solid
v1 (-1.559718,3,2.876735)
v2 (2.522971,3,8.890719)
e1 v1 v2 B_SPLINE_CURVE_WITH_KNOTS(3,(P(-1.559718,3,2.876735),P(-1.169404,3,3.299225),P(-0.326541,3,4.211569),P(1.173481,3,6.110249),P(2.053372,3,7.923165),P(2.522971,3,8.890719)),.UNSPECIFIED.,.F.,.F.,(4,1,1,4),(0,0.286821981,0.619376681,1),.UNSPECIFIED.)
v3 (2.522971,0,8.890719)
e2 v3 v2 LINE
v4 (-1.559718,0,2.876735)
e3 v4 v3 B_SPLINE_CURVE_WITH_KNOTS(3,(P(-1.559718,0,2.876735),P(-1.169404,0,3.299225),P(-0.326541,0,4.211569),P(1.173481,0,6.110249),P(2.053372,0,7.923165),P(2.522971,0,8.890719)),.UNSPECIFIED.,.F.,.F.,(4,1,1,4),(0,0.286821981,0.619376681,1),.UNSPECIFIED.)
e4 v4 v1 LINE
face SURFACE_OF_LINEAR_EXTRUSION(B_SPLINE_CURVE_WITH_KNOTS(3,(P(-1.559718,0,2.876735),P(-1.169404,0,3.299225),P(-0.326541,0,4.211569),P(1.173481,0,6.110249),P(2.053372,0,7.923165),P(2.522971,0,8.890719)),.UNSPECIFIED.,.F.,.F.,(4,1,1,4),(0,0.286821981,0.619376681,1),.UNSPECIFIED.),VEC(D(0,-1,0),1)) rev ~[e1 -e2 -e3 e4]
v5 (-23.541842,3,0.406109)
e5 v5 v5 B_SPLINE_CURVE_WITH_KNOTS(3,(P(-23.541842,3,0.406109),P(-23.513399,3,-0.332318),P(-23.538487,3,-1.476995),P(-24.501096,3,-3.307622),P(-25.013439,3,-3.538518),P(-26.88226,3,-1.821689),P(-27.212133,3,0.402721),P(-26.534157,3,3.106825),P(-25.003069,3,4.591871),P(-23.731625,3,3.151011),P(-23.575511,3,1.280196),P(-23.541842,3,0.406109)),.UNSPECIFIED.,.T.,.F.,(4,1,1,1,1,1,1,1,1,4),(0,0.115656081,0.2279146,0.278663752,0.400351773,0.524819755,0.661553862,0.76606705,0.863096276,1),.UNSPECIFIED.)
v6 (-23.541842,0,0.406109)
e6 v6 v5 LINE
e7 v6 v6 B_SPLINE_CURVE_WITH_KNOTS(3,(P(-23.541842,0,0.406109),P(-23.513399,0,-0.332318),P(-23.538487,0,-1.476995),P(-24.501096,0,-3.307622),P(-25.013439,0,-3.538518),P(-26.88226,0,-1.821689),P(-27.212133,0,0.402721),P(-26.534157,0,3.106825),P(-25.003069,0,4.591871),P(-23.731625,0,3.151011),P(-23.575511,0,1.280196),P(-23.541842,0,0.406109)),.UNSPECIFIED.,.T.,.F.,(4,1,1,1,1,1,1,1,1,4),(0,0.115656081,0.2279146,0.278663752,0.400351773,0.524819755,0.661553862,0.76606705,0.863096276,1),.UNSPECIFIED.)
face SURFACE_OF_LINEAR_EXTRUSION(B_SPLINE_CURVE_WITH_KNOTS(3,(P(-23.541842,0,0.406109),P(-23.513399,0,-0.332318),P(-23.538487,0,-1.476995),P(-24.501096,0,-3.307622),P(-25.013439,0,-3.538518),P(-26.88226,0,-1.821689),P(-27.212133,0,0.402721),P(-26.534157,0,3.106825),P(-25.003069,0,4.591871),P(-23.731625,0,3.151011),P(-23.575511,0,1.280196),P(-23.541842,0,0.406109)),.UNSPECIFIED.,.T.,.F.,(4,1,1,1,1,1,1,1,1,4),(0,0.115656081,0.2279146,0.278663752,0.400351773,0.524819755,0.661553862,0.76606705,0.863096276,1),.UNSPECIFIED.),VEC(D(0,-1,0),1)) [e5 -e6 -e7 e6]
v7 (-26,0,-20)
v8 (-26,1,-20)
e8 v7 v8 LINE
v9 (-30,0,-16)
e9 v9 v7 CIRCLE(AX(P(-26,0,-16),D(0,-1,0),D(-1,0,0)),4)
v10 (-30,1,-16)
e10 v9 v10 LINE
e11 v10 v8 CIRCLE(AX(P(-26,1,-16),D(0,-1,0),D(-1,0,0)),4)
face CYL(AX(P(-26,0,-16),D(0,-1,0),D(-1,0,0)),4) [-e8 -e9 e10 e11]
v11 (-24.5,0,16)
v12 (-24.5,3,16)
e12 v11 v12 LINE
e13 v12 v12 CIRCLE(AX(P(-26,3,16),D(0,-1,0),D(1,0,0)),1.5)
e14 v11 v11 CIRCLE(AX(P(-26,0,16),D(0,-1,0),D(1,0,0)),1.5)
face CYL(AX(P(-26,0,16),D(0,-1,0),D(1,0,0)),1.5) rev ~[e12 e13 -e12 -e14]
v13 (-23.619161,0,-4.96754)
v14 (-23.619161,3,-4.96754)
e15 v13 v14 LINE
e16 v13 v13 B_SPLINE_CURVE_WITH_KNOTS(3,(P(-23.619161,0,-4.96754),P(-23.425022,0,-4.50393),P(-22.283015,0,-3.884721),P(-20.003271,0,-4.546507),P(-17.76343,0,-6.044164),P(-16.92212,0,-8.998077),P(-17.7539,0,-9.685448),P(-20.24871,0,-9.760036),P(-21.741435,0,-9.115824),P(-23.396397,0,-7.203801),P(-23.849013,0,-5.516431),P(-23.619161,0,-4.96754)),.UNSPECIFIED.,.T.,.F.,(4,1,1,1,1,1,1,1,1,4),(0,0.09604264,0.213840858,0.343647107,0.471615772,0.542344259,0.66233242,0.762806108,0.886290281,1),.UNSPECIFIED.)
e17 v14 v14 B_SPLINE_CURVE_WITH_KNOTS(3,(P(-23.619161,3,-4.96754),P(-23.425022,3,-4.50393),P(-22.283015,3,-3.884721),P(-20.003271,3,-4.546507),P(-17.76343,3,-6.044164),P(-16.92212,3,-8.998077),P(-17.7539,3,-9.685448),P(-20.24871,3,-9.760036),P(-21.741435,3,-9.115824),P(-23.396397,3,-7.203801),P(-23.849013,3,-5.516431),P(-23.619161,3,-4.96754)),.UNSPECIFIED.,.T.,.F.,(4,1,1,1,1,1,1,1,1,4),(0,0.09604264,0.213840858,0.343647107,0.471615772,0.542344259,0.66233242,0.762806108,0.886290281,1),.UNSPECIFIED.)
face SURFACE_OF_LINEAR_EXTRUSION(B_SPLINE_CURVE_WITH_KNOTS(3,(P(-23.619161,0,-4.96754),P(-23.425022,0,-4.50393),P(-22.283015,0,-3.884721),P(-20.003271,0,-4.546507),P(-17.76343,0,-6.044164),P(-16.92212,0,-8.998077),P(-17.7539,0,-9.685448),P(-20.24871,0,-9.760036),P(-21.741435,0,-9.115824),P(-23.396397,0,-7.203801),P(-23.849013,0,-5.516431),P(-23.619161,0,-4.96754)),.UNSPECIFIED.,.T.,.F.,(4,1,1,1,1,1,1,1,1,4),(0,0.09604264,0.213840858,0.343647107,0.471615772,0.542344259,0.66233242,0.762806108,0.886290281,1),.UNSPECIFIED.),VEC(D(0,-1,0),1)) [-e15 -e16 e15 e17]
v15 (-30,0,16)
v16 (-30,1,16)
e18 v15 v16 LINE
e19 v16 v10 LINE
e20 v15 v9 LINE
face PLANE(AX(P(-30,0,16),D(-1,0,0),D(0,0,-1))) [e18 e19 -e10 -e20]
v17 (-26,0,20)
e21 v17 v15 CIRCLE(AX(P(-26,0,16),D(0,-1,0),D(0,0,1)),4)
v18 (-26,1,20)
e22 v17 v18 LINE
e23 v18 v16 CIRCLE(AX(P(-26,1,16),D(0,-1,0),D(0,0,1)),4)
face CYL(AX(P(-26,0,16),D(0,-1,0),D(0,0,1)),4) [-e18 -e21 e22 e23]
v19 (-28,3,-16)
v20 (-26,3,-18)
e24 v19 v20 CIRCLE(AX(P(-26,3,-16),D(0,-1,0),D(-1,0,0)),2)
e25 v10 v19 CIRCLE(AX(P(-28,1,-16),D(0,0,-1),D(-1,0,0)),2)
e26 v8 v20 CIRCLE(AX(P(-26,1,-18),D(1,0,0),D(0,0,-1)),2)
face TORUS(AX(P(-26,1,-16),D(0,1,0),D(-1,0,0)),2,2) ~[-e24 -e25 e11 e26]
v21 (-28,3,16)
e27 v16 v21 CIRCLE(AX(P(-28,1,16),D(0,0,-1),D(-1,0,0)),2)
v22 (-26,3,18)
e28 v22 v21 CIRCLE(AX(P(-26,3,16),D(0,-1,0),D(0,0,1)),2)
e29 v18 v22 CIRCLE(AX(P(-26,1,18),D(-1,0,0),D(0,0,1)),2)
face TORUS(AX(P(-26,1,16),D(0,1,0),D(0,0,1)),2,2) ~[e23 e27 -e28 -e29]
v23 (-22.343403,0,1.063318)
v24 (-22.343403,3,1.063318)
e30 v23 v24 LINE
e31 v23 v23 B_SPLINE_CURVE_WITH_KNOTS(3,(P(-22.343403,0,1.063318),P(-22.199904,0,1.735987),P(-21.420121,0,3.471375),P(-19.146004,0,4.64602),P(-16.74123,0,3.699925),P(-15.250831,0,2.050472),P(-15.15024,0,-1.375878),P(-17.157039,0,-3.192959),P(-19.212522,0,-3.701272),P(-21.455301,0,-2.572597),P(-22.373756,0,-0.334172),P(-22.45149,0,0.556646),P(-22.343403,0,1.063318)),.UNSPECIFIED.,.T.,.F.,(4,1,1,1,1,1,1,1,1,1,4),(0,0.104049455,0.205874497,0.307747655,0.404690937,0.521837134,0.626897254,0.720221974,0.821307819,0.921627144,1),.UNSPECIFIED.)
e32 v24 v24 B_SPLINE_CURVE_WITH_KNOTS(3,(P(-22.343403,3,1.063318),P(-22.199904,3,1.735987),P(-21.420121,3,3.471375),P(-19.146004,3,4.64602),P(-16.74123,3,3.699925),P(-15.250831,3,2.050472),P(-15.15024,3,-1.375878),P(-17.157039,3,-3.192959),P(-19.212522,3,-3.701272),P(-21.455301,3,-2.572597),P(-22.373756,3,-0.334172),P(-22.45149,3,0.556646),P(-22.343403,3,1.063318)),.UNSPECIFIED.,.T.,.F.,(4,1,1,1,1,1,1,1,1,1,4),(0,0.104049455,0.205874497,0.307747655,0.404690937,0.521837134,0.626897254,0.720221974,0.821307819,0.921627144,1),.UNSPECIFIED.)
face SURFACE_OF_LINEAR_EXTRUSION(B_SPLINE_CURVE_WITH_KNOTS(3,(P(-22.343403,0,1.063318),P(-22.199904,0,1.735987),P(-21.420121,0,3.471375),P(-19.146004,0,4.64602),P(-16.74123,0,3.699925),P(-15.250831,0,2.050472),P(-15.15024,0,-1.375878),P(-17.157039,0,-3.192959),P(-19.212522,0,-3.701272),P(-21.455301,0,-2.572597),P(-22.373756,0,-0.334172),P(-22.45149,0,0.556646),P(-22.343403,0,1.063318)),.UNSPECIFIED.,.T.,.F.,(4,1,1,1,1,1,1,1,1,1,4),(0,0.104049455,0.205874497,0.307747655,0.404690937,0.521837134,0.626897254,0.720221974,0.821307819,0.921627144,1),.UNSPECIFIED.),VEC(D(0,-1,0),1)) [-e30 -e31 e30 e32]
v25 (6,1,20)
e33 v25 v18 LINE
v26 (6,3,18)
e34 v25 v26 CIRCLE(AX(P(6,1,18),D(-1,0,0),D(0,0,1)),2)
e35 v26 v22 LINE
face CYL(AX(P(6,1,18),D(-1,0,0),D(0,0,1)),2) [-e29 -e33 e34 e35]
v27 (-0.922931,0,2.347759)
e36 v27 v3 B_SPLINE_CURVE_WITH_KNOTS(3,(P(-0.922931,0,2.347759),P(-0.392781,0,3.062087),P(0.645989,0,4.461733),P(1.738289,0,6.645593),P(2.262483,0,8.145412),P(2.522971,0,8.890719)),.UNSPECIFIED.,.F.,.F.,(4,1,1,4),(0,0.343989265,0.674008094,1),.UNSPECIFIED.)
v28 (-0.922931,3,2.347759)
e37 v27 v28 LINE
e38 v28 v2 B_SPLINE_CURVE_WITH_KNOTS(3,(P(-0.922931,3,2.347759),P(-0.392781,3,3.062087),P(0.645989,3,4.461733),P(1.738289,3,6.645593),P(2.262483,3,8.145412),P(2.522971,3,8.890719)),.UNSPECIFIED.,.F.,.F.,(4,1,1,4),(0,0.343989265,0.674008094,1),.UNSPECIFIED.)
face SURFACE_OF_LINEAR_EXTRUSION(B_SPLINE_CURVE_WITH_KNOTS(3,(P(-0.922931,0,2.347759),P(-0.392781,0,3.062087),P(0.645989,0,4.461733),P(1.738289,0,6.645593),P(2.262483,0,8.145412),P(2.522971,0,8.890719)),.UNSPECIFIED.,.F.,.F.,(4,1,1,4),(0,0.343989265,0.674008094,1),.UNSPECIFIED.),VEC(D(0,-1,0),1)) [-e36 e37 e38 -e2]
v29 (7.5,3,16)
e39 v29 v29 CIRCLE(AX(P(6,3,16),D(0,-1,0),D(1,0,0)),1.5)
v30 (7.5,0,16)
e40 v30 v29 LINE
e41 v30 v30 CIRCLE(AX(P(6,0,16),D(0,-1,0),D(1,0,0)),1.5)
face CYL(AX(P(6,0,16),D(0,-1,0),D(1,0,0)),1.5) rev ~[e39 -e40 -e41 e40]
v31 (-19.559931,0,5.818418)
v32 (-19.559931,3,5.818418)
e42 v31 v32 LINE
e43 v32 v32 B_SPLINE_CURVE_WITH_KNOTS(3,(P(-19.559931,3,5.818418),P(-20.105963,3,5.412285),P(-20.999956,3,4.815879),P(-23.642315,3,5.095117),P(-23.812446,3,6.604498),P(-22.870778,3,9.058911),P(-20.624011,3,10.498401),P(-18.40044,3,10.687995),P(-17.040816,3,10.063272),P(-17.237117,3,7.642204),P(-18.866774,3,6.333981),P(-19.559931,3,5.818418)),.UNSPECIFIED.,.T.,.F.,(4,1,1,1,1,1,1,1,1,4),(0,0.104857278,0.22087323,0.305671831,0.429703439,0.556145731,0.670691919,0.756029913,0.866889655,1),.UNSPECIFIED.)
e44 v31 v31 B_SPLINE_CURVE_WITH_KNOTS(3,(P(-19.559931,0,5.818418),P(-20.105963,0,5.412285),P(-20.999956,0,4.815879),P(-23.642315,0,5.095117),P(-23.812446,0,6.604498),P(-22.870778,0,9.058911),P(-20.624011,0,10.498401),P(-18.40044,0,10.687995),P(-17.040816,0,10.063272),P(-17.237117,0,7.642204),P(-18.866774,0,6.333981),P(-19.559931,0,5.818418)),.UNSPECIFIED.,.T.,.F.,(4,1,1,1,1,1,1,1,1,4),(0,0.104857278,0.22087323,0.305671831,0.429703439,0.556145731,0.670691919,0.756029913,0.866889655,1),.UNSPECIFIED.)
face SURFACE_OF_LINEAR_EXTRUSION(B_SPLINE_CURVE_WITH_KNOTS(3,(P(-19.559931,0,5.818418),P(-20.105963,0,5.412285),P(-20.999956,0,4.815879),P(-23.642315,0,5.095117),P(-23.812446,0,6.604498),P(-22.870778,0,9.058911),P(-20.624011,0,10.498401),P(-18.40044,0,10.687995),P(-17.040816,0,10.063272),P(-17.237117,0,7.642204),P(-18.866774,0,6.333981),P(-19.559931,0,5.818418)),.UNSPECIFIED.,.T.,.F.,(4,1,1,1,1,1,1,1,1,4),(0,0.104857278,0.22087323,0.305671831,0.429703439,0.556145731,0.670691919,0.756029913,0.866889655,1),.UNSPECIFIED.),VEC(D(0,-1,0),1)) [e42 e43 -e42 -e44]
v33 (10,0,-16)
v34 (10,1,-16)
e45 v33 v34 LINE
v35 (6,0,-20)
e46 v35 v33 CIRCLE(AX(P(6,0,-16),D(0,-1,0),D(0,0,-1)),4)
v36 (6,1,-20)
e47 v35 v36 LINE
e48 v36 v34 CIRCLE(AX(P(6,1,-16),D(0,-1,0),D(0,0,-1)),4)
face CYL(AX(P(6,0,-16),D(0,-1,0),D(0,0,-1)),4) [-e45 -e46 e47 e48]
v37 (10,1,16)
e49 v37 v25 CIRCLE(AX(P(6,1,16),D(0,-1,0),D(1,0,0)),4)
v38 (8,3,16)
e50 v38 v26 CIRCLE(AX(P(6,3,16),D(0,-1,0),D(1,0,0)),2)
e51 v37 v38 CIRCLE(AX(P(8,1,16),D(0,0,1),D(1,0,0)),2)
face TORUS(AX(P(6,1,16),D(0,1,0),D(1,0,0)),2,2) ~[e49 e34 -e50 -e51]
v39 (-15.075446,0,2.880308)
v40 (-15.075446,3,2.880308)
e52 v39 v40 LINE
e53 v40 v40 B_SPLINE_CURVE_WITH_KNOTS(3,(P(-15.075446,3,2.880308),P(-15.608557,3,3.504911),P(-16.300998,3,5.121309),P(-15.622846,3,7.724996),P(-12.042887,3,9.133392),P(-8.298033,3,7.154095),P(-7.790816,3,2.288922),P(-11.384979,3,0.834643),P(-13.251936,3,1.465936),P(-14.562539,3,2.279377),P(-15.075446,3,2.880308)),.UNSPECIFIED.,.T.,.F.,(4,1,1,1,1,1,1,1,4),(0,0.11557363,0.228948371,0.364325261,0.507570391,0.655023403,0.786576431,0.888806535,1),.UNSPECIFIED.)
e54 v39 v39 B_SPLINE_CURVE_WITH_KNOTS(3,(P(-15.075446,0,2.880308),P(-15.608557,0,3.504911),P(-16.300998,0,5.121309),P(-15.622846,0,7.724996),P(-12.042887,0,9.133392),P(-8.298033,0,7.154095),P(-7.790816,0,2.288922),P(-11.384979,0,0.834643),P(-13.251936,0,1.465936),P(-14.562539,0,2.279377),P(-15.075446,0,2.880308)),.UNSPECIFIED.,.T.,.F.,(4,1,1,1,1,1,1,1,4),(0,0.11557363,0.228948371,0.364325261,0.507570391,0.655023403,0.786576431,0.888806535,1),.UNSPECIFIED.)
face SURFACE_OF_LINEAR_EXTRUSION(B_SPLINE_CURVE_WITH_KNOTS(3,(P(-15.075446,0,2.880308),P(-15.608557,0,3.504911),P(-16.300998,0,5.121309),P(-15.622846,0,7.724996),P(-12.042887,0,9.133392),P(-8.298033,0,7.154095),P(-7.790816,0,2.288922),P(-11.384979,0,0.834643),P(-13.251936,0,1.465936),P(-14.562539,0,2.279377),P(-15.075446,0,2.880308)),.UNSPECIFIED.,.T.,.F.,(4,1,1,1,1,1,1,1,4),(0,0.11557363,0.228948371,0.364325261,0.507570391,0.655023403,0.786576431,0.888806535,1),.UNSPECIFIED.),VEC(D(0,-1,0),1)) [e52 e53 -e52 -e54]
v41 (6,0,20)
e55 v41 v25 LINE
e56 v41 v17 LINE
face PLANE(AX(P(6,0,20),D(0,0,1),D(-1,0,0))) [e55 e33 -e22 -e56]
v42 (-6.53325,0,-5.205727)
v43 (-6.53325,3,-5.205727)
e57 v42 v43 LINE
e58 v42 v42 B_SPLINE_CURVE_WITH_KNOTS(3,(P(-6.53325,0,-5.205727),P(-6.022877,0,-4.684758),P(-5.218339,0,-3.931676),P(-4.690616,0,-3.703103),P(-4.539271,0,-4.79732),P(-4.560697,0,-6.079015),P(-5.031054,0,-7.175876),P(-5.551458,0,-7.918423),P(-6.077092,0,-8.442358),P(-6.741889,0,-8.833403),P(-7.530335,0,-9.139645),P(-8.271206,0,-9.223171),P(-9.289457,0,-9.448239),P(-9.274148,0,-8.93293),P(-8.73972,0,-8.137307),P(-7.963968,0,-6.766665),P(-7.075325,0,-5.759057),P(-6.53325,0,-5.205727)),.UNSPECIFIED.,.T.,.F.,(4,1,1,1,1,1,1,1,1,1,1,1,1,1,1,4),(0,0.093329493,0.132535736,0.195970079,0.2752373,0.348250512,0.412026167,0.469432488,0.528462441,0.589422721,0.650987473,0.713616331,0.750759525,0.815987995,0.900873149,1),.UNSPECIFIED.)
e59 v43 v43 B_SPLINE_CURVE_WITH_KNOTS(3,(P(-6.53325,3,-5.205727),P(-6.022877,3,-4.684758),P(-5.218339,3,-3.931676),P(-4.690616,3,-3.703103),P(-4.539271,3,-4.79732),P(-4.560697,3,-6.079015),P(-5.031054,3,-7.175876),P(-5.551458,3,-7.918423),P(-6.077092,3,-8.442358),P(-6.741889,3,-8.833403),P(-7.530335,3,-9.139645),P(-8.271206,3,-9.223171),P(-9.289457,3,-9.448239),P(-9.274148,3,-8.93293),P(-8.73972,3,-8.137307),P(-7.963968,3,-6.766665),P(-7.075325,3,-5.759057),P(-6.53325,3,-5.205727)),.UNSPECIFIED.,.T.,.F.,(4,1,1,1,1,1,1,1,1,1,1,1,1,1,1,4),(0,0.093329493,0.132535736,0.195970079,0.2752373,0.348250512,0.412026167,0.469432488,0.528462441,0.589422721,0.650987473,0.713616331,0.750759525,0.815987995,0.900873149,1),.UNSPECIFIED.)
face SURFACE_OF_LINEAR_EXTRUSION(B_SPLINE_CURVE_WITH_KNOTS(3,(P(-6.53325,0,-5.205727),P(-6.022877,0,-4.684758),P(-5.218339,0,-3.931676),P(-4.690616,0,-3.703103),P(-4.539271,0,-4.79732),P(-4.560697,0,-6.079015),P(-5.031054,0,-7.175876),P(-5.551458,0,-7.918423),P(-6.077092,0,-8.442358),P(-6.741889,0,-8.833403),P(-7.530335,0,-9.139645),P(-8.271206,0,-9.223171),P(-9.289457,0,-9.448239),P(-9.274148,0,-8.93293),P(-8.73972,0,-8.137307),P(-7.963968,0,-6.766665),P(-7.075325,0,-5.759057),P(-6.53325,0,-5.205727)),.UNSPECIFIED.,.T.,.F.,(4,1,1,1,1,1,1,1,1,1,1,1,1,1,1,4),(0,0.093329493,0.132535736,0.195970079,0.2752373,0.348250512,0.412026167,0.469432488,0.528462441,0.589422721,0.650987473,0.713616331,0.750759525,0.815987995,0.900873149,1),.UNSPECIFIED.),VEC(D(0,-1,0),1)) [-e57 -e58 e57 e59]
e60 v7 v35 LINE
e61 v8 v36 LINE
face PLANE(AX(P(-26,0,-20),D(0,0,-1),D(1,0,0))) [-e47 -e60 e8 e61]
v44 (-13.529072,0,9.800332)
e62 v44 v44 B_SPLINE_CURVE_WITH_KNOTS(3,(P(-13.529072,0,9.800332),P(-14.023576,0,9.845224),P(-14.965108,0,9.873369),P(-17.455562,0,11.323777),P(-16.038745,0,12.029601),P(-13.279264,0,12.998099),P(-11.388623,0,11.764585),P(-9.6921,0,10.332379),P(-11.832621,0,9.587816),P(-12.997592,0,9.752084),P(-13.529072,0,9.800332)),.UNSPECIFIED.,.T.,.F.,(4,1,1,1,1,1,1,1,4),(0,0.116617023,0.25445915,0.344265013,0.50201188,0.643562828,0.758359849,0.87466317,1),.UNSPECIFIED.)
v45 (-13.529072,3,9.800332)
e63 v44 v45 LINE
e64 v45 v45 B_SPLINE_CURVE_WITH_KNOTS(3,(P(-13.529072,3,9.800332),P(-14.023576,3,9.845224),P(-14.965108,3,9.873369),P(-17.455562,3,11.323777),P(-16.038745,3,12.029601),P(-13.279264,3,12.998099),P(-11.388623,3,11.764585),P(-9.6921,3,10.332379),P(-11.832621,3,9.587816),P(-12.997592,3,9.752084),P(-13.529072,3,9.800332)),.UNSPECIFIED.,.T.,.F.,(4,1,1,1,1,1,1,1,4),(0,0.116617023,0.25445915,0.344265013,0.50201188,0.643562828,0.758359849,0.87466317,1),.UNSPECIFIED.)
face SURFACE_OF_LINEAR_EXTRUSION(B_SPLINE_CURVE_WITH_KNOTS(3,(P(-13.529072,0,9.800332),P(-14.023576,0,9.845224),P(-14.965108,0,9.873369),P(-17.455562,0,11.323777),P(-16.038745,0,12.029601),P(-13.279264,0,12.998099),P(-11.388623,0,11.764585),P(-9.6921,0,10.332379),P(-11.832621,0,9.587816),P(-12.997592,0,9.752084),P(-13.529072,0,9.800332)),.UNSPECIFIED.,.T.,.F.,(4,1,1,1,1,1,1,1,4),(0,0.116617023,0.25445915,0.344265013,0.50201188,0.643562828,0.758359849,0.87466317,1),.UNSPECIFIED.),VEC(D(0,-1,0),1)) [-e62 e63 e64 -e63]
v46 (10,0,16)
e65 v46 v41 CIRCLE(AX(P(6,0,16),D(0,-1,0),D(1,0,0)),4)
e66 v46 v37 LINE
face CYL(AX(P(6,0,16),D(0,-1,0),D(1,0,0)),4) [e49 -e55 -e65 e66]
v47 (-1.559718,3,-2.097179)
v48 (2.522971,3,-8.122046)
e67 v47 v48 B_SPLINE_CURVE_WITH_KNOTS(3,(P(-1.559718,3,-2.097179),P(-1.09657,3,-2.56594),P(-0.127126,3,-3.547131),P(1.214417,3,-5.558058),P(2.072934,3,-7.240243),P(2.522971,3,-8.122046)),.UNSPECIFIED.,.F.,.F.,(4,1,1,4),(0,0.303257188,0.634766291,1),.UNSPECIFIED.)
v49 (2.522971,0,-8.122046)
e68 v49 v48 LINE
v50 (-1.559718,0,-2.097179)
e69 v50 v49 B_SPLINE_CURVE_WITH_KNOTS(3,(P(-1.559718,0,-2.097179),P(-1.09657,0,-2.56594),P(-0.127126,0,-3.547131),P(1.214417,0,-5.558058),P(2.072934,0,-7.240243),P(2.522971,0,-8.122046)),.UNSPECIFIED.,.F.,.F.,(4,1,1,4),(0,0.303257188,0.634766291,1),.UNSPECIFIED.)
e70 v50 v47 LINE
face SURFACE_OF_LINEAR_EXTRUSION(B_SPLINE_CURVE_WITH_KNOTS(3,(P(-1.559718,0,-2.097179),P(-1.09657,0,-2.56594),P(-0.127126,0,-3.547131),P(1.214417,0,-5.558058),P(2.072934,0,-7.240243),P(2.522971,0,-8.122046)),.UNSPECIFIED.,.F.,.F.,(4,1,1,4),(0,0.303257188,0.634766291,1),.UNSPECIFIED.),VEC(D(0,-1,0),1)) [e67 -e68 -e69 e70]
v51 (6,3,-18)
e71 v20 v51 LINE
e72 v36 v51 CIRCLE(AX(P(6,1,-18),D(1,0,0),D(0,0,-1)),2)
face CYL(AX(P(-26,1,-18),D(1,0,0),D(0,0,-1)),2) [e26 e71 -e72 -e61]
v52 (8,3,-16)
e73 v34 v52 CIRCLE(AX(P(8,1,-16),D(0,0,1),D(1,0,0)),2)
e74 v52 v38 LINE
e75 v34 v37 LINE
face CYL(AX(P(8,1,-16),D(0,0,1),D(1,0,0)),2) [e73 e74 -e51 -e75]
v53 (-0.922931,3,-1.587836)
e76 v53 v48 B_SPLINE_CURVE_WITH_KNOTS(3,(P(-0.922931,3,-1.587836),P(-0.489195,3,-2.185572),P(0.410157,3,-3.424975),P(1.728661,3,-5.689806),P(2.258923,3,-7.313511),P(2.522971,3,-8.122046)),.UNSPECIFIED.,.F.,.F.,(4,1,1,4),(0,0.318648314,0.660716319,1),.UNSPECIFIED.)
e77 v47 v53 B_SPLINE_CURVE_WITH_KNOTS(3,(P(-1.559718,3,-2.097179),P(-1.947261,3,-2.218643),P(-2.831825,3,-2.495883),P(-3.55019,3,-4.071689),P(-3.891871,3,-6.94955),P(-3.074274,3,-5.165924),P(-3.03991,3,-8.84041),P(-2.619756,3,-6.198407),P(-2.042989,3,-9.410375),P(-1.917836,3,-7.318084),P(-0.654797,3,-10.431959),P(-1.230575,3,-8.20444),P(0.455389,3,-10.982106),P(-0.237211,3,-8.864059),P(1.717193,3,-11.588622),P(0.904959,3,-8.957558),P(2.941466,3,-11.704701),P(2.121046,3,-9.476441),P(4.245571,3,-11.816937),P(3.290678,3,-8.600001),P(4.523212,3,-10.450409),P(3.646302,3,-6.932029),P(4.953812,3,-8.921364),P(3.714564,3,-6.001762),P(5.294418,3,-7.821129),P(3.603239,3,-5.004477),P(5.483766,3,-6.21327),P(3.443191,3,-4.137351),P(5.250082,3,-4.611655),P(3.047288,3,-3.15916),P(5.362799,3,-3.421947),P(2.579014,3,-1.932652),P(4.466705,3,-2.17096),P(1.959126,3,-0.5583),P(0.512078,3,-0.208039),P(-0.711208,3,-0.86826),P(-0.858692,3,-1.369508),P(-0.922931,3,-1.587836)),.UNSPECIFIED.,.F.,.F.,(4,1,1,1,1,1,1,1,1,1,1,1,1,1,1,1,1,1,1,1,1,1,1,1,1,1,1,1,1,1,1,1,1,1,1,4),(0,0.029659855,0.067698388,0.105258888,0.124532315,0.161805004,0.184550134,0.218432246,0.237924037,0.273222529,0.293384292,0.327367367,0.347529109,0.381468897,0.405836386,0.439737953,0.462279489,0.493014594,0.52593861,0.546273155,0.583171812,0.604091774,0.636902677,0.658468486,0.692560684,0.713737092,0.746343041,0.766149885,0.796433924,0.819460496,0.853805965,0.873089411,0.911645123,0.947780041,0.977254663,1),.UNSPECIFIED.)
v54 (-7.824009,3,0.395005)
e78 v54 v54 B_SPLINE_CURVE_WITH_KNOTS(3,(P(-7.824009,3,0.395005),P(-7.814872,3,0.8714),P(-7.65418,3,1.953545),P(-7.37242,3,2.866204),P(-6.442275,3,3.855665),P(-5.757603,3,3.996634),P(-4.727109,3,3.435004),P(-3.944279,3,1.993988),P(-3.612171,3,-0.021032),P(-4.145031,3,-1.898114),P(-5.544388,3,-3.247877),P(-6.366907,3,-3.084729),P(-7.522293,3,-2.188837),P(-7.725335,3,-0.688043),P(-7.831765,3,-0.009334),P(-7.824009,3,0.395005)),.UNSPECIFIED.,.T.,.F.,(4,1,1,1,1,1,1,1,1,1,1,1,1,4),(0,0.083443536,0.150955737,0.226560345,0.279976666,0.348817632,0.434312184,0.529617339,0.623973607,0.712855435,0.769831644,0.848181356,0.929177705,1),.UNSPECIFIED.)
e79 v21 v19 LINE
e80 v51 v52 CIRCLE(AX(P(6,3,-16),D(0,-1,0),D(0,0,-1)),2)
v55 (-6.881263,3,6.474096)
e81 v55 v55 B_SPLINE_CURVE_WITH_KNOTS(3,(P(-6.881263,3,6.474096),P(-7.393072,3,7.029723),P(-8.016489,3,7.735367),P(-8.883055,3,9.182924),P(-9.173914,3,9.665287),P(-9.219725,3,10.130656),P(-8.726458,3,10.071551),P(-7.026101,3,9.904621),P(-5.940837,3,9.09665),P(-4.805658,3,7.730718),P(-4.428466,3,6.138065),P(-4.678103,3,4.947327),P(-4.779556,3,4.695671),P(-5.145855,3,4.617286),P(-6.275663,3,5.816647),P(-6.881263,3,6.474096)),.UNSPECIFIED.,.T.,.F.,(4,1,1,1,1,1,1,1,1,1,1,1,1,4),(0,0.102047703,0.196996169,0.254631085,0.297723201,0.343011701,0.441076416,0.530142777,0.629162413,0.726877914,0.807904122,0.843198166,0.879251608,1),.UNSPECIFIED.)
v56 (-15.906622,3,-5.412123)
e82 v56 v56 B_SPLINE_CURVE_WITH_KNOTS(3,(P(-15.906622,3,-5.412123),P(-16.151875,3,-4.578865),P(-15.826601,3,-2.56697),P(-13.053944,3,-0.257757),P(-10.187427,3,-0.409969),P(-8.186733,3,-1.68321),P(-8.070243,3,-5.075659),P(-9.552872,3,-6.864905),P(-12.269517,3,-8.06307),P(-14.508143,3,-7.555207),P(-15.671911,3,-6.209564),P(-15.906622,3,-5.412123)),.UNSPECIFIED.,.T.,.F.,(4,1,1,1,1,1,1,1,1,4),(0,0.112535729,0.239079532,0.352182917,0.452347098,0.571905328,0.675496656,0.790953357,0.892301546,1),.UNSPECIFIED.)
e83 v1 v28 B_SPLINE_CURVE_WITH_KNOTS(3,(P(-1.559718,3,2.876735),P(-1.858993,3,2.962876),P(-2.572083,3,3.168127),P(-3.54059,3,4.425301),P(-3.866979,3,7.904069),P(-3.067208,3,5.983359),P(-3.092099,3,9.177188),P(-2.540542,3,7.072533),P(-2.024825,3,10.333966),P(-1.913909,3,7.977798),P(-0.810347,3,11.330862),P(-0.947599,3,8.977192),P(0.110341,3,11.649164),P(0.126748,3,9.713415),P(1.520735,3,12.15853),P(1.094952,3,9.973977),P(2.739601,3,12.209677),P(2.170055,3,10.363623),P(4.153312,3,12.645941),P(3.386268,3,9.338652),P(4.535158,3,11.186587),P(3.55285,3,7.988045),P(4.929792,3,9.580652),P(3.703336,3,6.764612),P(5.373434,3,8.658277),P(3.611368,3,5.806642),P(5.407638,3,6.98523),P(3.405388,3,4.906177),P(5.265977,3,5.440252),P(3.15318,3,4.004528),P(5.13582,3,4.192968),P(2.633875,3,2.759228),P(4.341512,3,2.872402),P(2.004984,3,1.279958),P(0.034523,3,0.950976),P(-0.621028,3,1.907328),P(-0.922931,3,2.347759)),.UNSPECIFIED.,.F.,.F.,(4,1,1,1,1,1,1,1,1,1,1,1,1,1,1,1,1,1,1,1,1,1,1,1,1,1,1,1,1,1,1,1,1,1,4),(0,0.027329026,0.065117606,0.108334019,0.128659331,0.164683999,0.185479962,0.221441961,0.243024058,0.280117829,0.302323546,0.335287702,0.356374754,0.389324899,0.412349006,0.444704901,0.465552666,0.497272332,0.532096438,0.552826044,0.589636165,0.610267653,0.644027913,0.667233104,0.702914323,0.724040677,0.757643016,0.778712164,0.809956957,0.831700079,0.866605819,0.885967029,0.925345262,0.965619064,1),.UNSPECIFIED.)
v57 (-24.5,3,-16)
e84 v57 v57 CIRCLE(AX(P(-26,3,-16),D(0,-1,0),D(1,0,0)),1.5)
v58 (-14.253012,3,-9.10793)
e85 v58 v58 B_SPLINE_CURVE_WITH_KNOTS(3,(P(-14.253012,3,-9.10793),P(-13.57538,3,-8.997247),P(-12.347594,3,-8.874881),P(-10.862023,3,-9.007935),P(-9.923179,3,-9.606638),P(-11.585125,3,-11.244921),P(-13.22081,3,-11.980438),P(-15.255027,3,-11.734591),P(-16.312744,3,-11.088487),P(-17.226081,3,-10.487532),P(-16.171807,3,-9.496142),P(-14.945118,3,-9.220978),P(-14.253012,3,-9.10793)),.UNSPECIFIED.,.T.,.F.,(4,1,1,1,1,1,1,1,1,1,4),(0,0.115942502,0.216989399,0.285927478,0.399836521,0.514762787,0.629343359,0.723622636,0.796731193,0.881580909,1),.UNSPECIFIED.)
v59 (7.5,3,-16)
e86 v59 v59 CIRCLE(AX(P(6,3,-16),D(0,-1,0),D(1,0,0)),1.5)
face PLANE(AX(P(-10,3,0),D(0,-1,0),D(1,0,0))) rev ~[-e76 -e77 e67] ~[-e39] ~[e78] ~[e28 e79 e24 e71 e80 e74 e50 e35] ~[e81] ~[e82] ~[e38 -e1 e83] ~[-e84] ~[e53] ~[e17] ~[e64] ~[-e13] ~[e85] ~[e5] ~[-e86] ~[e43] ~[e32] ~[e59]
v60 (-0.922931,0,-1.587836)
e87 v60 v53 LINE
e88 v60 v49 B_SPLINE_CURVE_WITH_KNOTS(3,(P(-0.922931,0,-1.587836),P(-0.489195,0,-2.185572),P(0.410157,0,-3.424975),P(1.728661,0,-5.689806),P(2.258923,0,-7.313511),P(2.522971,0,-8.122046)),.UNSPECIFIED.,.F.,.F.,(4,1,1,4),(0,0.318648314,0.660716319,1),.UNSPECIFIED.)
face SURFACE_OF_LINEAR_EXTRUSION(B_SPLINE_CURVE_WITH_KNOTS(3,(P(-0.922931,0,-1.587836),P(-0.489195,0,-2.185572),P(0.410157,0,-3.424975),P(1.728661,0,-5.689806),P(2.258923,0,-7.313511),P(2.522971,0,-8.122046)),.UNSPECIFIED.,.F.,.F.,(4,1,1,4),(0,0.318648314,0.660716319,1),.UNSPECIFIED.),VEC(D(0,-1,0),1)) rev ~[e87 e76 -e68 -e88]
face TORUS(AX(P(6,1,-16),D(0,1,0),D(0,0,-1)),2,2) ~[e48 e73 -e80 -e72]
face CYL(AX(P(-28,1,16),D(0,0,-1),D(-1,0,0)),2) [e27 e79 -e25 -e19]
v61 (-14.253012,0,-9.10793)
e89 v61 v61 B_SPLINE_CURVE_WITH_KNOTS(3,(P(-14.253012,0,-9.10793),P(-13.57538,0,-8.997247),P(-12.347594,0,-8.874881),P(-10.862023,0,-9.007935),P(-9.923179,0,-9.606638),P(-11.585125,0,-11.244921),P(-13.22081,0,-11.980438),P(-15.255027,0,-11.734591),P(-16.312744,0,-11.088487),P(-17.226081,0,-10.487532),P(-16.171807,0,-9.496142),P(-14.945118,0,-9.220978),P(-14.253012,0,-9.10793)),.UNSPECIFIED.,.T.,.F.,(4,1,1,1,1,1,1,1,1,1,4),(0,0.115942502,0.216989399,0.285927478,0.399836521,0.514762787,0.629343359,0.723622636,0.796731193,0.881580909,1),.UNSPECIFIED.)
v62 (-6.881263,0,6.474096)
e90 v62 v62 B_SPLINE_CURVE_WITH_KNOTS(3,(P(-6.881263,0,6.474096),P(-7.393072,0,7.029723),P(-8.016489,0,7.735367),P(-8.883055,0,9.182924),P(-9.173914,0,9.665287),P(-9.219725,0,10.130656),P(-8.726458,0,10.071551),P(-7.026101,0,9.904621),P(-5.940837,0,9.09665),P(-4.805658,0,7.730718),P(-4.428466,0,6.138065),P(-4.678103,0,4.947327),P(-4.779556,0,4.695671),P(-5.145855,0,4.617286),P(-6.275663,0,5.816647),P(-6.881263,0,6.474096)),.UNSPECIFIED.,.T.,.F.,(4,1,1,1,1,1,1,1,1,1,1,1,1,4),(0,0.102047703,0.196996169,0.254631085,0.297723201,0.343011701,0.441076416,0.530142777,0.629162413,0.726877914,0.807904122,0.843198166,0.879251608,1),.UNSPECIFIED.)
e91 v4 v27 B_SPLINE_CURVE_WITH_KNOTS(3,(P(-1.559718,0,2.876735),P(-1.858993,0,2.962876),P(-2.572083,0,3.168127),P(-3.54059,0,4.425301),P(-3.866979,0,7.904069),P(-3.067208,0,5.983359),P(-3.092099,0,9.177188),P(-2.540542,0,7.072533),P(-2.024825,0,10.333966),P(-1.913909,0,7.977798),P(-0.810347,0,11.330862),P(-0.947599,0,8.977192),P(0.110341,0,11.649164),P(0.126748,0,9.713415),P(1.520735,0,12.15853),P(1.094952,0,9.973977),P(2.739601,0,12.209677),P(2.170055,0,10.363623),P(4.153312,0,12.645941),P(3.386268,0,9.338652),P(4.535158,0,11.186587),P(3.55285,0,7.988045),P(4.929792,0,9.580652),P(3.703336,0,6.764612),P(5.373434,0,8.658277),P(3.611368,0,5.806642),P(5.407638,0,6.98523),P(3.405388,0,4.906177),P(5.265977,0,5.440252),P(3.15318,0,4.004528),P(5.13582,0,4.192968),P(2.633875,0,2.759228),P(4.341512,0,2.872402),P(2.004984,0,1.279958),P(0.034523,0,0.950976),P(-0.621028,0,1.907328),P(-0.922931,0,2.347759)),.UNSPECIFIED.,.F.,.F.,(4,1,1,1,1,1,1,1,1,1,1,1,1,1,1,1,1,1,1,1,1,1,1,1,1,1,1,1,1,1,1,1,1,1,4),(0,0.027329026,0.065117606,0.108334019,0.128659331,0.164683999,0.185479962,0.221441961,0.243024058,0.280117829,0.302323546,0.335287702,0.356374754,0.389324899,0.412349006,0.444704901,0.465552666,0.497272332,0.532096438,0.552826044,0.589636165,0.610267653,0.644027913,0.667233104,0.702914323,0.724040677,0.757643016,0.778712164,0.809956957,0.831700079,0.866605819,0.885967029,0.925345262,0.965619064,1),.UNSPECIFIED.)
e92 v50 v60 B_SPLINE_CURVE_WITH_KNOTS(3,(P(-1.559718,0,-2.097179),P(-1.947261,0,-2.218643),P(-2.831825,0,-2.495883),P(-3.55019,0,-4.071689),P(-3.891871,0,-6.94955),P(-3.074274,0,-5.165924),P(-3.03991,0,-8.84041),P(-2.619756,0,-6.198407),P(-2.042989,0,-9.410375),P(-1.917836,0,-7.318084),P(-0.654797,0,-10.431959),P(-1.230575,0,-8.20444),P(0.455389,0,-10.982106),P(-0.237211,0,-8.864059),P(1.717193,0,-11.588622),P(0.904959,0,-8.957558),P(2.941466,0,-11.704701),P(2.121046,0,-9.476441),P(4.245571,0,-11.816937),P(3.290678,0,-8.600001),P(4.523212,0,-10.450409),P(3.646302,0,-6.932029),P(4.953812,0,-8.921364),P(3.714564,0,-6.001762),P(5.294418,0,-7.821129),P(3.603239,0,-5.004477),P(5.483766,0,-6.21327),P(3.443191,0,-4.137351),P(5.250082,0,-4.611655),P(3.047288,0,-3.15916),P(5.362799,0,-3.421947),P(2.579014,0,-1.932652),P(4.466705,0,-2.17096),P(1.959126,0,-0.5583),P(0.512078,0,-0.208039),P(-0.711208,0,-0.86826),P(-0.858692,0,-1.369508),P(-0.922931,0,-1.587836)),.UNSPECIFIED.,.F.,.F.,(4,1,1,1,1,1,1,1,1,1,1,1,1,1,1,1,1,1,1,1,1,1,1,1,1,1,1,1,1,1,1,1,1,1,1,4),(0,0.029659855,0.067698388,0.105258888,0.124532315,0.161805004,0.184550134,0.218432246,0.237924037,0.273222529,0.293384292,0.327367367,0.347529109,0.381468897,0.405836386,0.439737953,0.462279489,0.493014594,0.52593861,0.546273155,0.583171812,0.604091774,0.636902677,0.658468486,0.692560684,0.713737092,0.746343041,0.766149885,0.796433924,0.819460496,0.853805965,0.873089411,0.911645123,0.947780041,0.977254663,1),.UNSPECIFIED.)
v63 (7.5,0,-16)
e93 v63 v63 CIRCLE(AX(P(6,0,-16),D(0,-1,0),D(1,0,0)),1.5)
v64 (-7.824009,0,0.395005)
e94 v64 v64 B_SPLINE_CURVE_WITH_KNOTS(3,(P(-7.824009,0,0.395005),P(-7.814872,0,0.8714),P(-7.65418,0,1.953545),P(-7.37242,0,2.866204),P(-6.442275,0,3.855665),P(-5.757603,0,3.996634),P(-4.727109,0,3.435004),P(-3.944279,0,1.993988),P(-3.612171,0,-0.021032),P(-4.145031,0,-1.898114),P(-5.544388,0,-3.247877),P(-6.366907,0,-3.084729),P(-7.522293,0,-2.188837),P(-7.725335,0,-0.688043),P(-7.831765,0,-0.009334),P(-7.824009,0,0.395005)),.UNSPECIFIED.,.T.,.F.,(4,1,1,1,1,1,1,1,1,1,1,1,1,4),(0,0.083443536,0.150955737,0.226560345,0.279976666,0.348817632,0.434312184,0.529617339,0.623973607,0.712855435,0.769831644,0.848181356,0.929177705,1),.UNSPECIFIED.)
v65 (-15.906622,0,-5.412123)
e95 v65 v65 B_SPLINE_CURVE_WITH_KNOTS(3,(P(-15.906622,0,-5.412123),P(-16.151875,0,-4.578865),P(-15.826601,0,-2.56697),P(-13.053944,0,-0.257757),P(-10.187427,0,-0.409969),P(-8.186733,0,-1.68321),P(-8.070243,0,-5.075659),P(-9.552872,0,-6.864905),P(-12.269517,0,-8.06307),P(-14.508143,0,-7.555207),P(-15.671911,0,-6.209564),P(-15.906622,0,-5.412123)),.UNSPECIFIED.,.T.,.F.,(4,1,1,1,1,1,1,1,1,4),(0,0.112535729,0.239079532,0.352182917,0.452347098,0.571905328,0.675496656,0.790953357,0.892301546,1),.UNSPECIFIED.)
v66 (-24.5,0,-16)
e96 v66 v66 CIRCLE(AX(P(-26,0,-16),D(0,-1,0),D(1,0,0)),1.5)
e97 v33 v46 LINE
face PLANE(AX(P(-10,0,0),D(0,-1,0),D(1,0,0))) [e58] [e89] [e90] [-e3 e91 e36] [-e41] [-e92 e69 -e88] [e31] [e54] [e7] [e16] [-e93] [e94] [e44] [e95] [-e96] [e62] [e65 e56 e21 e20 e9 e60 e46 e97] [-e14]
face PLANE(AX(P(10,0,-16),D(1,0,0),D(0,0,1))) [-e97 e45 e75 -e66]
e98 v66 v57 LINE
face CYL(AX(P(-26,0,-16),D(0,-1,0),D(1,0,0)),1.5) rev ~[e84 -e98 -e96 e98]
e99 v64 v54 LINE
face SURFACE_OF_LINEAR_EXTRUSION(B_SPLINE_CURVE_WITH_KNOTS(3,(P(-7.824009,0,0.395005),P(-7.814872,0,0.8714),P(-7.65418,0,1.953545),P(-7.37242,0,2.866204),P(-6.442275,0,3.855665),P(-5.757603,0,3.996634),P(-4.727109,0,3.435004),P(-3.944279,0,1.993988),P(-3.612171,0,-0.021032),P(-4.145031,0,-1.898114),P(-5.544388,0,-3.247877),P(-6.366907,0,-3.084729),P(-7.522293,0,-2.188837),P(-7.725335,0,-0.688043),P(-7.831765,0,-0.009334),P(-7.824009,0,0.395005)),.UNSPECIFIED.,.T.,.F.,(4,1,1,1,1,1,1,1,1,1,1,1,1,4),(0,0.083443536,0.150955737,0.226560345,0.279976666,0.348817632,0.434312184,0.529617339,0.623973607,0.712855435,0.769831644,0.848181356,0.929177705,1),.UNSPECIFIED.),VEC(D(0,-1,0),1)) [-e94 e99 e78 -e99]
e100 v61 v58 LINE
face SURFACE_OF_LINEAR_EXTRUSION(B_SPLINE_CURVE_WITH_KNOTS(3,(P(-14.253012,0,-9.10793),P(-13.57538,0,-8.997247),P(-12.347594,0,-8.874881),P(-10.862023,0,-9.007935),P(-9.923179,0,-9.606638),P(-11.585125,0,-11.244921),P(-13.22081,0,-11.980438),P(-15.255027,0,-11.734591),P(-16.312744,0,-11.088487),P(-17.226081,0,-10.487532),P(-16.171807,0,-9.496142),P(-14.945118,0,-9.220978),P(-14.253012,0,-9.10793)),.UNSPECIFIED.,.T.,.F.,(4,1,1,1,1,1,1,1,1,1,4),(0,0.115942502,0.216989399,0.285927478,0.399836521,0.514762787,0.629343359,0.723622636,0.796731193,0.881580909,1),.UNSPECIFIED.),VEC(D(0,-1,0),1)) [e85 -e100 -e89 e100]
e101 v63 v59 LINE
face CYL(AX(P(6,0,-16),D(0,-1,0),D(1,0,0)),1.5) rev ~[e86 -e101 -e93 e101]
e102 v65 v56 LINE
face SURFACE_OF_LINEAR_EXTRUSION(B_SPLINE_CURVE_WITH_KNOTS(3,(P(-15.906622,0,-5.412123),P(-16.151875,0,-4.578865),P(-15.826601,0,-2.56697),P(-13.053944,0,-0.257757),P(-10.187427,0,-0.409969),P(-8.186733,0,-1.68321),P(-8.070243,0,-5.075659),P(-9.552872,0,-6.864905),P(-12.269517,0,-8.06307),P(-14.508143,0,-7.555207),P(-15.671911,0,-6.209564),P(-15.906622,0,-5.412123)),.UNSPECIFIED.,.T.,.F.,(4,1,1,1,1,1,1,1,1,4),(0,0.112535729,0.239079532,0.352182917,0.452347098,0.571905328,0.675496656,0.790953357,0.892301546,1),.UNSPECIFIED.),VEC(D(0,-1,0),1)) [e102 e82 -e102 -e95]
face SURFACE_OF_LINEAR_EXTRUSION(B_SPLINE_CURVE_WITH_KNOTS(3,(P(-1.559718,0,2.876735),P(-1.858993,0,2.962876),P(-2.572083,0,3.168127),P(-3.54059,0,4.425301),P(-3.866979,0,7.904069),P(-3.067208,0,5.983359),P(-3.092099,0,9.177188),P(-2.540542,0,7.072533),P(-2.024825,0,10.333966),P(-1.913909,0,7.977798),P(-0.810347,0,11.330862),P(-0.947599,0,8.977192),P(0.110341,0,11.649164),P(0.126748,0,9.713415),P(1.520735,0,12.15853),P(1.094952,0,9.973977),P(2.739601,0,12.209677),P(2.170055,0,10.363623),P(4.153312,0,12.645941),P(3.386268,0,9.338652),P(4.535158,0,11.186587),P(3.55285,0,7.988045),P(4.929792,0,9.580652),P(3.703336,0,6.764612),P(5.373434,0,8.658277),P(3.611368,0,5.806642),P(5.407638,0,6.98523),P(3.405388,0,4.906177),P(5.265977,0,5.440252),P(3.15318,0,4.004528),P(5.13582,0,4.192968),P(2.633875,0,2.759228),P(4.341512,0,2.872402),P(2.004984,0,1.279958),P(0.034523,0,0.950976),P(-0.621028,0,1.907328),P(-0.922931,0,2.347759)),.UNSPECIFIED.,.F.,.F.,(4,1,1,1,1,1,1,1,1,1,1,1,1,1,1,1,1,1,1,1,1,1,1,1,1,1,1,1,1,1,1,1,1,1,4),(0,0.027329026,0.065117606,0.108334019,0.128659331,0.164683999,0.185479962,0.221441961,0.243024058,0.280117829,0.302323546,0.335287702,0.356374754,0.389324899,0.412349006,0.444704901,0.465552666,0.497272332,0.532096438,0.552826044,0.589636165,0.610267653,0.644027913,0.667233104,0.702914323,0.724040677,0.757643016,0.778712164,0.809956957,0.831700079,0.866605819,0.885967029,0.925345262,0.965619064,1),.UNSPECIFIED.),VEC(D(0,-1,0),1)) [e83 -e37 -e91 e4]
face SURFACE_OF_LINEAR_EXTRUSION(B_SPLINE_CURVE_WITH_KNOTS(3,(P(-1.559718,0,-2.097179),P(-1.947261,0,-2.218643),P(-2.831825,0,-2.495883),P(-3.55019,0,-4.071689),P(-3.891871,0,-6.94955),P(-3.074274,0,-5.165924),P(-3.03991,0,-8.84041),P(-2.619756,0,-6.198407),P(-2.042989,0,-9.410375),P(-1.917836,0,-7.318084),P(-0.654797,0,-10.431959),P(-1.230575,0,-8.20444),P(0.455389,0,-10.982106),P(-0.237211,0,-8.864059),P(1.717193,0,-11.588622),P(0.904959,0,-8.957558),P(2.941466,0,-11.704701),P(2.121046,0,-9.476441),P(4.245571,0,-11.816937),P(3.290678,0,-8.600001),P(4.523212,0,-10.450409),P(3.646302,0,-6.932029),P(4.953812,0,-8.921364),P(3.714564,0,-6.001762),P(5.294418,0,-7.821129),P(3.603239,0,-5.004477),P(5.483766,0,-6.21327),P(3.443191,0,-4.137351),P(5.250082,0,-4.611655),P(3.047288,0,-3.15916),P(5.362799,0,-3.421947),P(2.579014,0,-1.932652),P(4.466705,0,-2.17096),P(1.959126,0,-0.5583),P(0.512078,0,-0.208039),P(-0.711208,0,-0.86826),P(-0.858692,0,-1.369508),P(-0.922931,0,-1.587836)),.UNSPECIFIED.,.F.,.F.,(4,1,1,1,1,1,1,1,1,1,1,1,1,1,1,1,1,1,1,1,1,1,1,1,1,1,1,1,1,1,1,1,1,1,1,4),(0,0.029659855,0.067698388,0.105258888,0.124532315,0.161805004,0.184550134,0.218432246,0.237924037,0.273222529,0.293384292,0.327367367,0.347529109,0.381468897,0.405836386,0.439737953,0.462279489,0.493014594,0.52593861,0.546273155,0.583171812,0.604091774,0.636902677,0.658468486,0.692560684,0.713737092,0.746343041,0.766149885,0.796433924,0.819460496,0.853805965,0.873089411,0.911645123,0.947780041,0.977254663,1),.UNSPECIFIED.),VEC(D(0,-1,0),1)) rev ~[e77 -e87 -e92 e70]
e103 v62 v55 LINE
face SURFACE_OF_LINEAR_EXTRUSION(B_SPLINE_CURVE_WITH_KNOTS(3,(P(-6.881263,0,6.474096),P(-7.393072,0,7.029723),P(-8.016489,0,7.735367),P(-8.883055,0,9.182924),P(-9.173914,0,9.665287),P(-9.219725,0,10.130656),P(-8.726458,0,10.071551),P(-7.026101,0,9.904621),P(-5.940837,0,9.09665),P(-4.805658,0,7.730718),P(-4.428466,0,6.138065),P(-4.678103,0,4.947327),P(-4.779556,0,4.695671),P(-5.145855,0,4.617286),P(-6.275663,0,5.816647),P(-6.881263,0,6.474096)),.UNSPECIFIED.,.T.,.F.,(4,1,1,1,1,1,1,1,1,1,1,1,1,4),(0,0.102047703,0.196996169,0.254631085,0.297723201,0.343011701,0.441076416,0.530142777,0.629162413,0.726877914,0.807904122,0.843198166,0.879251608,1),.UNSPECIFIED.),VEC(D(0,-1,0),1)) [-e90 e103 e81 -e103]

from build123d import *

# Parameters (mm, degrees)
F0_R     = 1.5
F1_DEPTH = 3
F2_R     = 2


with BuildPart() as f1:
    # F0 (on Front) → F1 (new body)
    with BuildSketch(Plane.XZ):
        with BuildLine():
            Line((6, 20), (-26, 20))
            ThreePointArc((-26, 20), (-28.8284271247, 18.8284271247), (-30, 16))
            Line((-30, 16), (-30, -16))
            ThreePointArc((-30, -16), (-28.8284271247, -18.8284271247), (-26, -20))
            Line((-26, -20), (6, -20))
            ThreePointArc((6, -20), (8.8284271247, -18.8284271247), (10, -16))
            Line((10, -16), (10, 16))
            ThreePointArc((10, 16), (8.8284271247, 18.8284271247), (6, 20))
        make_face()
        with Locations((-26, -16)):
            Circle(F0_R, mode=Mode.SUBTRACT)
        with BuildLine():
            add(Edge.make_bspline(
                [(-14.2530117467, -9.1079304552), (-13.5753796663, -8.9972473271), (-12.3475940808, -8.8748813983), (-10.862022959, -9.0079345959), (-9.923179489, -9.6066377117), (-11.5851251244, -11.2449207845), (-13.2208104243, -11.9804382901), (-15.2550274064, -11.7345911353), (-16.3127438219, -11.0884870142), (-17.2260813783, -10.4875317428), (-16.1718070656, -9.4961420315), (-14.9451183856, -9.2209778299), (-14.2530117467, -9.1079304552)],
                knots=[0, 0, 0, 0, 0.1159425015, 0.2169893991, 0.285927478, 0.399836521, 0.5147627874, 0.6293433589, 0.723622636, 0.7967311928, 0.881580909, 1, 1, 1, 1], degree=3))
        make_face(mode=Mode.SUBTRACT)
        with BuildLine():
            add(Edge.make_bspline(
                [(-23.6191612178, -4.9675399171), (-23.4250215369, -4.5039303373), (-22.2830154017, -3.8847210416), (-20.0032710817, -4.5465071957), (-17.7634301465, -6.0441637374), (-16.9221202837, -8.9980772219), (-17.7539000585, -9.6854483136), (-20.2487095016, -9.7600364741), (-21.7414353876, -9.1158235715), (-23.3963972848, -7.2038005494), (-23.8490129643, -5.5164306496), (-23.6191612178, -4.9675399171)],
                knots=[0, 0, 0, 0, 0.0960426398, 0.2138408577, 0.3436471066, 0.4716157721, 0.5423442591, 0.6623324204, 0.762806108, 0.8862902813, 1, 1, 1, 1], degree=3))
        make_face(mode=Mode.SUBTRACT)
        with BuildLine():
            add(Edge.make_bspline(
                [(-15.9066221646, -5.412122856), (-16.1518748672, -4.5788650003), (-15.8266012115, -2.5669698436), (-13.0539441765, -0.2577568949), (-10.1874265331, -0.409968586), (-8.1867325941, -1.6832100061), (-8.0702426309, -5.0756592535), (-9.5528719235, -6.8649046993), (-12.2695165709, -8.0630704836), (-14.5081425087, -7.555206683), (-15.6719114895, -6.2095636662), (-15.9066221646, -5.412122856)],
                knots=[0, 0, 0, 0, 0.1125357291, 0.2390795317, 0.3521829171, 0.4523470982, 0.5719053281, 0.6754966563, 0.7909533572, 0.8923015459, 1, 1, 1, 1], degree=3))
        make_face(mode=Mode.SUBTRACT)
        with Locations((6, -16)):
            Circle(F0_R, mode=Mode.SUBTRACT)
        with BuildLine():
            add(Edge.make_bspline(
                [(-6.5332498992, -5.2057269518), (-6.022877487, -4.6847576916), (-5.218338867, -3.9316761809), (-4.6906158782, -3.7031033296), (-4.5392711962, -4.7973198376), (-4.5606969541, -6.079015295), (-5.0310536859, -7.1758760386), (-5.5514579576, -7.9184225585), (-6.0770915464, -8.4423578157), (-6.7418892067, -8.8334026626), (-7.530334518, -9.139644803), (-8.2712060609, -9.2231705225), (-9.2894573752, -9.4482389404), (-9.2741483272, -8.9329295762), (-8.7397201167, -8.1373067958), (-7.9639677233, -6.766664628), (-7.0753251653, -5.7590573113), (-6.5332498992, -5.2057269518)],
                knots=[0, 0, 0, 0, 0.093329493, 0.1325357357, 0.1959700793, 0.2752372999, 0.3482505118, 0.4120261671, 0.4694324883, 0.5284624407, 0.5894227214, 0.6509874729, 0.7136163306, 0.7507595247, 0.8159879952, 0.9008731495, 1, 1, 1, 1], degree=3))
        make_face(mode=Mode.SUBTRACT)
        with BuildLine():
            add(Edge.make_bspline(
                [(-1.5597183397, -2.09717917), (-1.9472613713, -2.2186430368), (-2.8318253149, -2.4958833644), (-3.5501902278, -4.0716891626), (-3.8918711849, -6.9495501616), (-3.0742741362, -5.1659239811), (-3.0399102123, -8.8404098167), (-2.6197555872, -6.198407111), (-2.0429886143, -9.4103745556), (-1.9178355072, -7.3180839174), (-0.6547965916, -10.4319586305), (-1.2305747622, -8.2044403653), (0.4553894509, -10.9821059369), (-0.2372114207, -8.8640593938), (1.7171929244, -11.5886216302), (0.9049586797, -8.957558293), (2.94146611, -11.704700801), (2.1210456252, -9.4764408898), (4.2455712679, -11.8169366768), (3.2906777067, -8.6000010905), (4.5232120556, -10.4504088554), (3.6463015811, -6.9320290342), (4.9538117892, -8.9213636498), (3.7145635412, -6.0017618726), (5.2944184217, -7.8211294601), (3.6032392966, -5.0044773932), (5.4837659643, -6.2132697195), (3.4431912349, -4.1373511046), (5.2500817173, -4.611654658), (3.0472875351, -3.1591597942), (5.3627990597, -3.421946884), (2.579013776, -1.9326518274), (4.4667046911, -2.1709603737), (1.9591259815, -0.5582999228), (0.512077988, -0.208038616), (-0.7112083222, -0.8682604118), (-0.8586922213, -1.3695083087), (-0.9229314723, -1.5878357982)],
                knots=[0, 0, 0, 0, 0.0296598553, 0.067698388, 0.1052588876, 0.124532315, 0.1618050039, 0.1845501341, 0.2184322455, 0.2379240374, 0.2732225293, 0.2933842915, 0.3273673668, 0.3475291095, 0.3814688967, 0.4058363864, 0.4397379534, 0.4622794888, 0.4930145941, 0.5259386099, 0.5462731547, 0.5831718118, 0.6040917745, 0.636902677, 0.6584684859, 0.6925606838, 0.7137370919, 0.7463430406, 0.7661498849, 0.7964339243, 0.8194604963, 0.8538059654, 0.873089411, 0.9116451231, 0.9477800413, 0.9772546627, 1, 1, 1, 1], degree=3))
            add(Edge.make_bspline(
                [(-1.5597183397, -2.09717917), (-1.0965700896, -2.5659395607), (-0.1271259722, -3.5471307949), (1.2144168016, -5.5580582525), (2.0729343085, -7.2402426111), (2.5229705744, -8.1220463731)],
                knots=[0, 0, 0, 0, 0.3032571879, 0.6347662908, 1, 1, 1, 1], degree=3))
            add(Edge.make_bspline(
                [(-0.9229314723, -1.5878357982), (-0.489194773, -2.1855715581), (0.4101569661, -3.4249748552), (1.7286606986, -5.6898059051), (2.2589229161, -7.3135112917), (2.5229705744, -8.1220463731)],
                knots=[0, 0, 0, 0, 0.3186483138, 0.6607163186, 1, 1, 1, 1], degree=3))
        make_face(mode=Mode.SUBTRACT)
        with BuildLine():
            add(Edge.make_bspline(
                [(-23.5418418916, 0.4061093362), (-23.513398509, -0.3323175273), (-23.5384871331, -1.4769950606), (-24.501095791, -3.3076221636), (-25.0134386382, -3.5385184344), (-26.8822596879, -1.8216885841), (-27.2121330534, 0.4027211125), (-26.5341570367, 3.1068245146), (-25.0030688144, 4.5918706611), (-23.7316245819, 3.151011151), (-23.5755107222, 1.2801955627), (-23.5418418916, 0.4061093362)],
                knots=[0, 0, 0, 0, 0.1156560815, 0.2279145999, 0.2786637521, 0.4003517732, 0.5248197553, 0.6615538623, 0.7660670502, 0.8630962755, 1, 1, 1, 1], degree=3))
        make_face(mode=Mode.SUBTRACT)
        with BuildLine():
            add(Edge.make_bspline(
                [(-19.5599305844, 5.8184184518), (-20.1059627345, 5.4122854768), (-20.9999562591, 4.8158791425), (-23.6423145974, 5.0951168971), (-23.8124459535, 6.6044979657), (-22.8707781511, 9.0589108632), (-20.6240109687, 10.4984011888), (-18.40044005, 10.6879945794), (-17.0408163607, 10.0632721662), (-17.2371173254, 7.6422039245), (-18.8667738535, 6.3339811439), (-19.5599305844, 5.8184184518)],
                knots=[0, 0, 0, 0, 0.104857278, 0.2208732301, 0.3056718306, 0.4297034388, 0.5561457312, 0.6706919189, 0.7560299129, 0.8668896547, 1, 1, 1, 1], degree=3))
        make_face(mode=Mode.SUBTRACT)
        with BuildLine():
            add(Edge.make_bspline(
                [(-22.343402958, 1.0633182644), (-22.1999038118, 1.735986865), (-21.4201205606, 3.4713747157), (-19.1460036574, 4.6460201322), (-16.7412297394, 3.6999251015), (-15.2508308309, 2.0504717373), (-15.1502400394, -1.375877623), (-17.1570388719, -3.1929587508), (-19.2125215588, -3.7012722875), (-21.4553012568, -2.572596554), (-22.3737560343, -0.3341723374), (-22.451490385, 0.5566461333), (-22.343402958, 1.0633182644)],
                knots=[0, 0, 0, 0, 0.1040494552, 0.205874497, 0.3077476551, 0.4046909368, 0.5218371335, 0.6268972537, 0.7202219741, 0.8213078187, 0.9216271443, 1, 1, 1, 1], degree=3))
        make_face(mode=Mode.SUBTRACT)
        with BuildLine():
            add(Edge.make_bspline(
                [(-15.0754457815, 2.8803079569), (-15.608557339, 3.5049108368), (-16.3009979057, 5.1213093527), (-15.6228463002, 7.7249957899), (-12.0428869157, 9.1333924135), (-8.2980328798, 7.1540947603), (-7.79081631, 2.2889218843), (-11.3849794119, 0.8346427841), (-13.2519361843, 1.4659357365), (-14.5625388048, 2.2793771193), (-15.0754457815, 2.8803079569)],
                knots=[0, 0, 0, 0, 0.1155736299, 0.2289483709, 0.3643252609, 0.5075703913, 0.6550234028, 0.7865764308, 0.8888065354, 1, 1, 1, 1], degree=3))
        make_face(mode=Mode.SUBTRACT)
        with Locations((-26, 16)):
            Circle(F0_R, mode=Mode.SUBTRACT)
        with BuildLine():
            add(Edge.make_bspline(
                [(-13.5290720045, 9.8003318834), (-14.0235764217, 9.8452235278), (-14.9651077509, 9.8733694373), (-17.4555618366, 11.3237765823), (-16.0387454561, 12.0296010251), (-13.2792644089, 12.9980986528), (-11.3886232573, 11.7645846837), (-9.6921003482, 10.3323793162), (-11.8326210181, 9.5878163239), (-12.9975919982, 9.7520835552), (-13.5290720045, 9.8003318834)],
                knots=[0, 0, 0, 0, 0.1166170228, 0.2544591504, 0.3442650127, 0.5020118803, 0.6435628282, 0.7583598485, 0.87466317, 1, 1, 1, 1], degree=3))
        make_face(mode=Mode.SUBTRACT)
        with BuildLine():
            add(Edge.make_bspline(
                [(-7.8240093064, 0.3950045022), (-7.8148716122, 0.8714004857), (-7.6541803113, 1.9535450876), (-7.3724203364, 2.8662035098), (-6.4422749756, 3.8556648756), (-5.7576033717, 3.9966335492), (-4.7271094648, 3.4350040615), (-3.9442793442, 1.9939879515), (-3.6121712691, -0.0210323265), (-4.1450306178, -1.8981141093), (-5.5443877683, -3.2478768635), (-6.3669073511, -3.0847285018), (-7.522292555, -2.1888368857), (-7.725335208, -0.688043469), (-7.8317648799, -0.00933427), (-7.8240093064, 0.3950045022)],
                knots=[0, 0, 0, 0, 0.0834435361, 0.1509557367, 0.2265603448, 0.2799766659, 0.3488176321, 0.4343121835, 0.5296173394, 0.6239736073, 0.7128554346, 0.7698316445, 0.8481813558, 0.9291777049, 1, 1, 1, 1], degree=3))
        make_face(mode=Mode.SUBTRACT)
        with BuildLine():
            add(Edge.make_bspline(
                [(-6.8812628182, 6.4740956433), (-7.3930716945, 7.0297229464), (-8.0164894932, 7.7353674818), (-8.8830554497, 9.1829236167), (-9.1739140045, 9.6652871443), (-9.2197254512, 10.1306555189), (-8.7264578855, 10.0715508783), (-7.0261006875, 9.9046206679), (-5.9408369377, 9.0966496975), (-4.8056582344, 7.7307183282), (-4.4284660774, 6.1380646695), (-4.6781026558, 4.9473269411), (-4.7795564852, 4.6956713609), (-5.145855356, 4.6172860684), (-6.2756627185, 5.8166471976), (-6.8812628182, 6.4740956433)],
                knots=[0, 0, 0, 0, 0.1020477025, 0.1969961687, 0.2546310849, 0.2977232005, 0.3430117011, 0.4410764159, 0.5301427773, 0.6291624133, 0.7268779137, 0.8079041223, 0.8431981659, 0.8792516081, 1, 1, 1, 1], degree=3))
        make_face(mode=Mode.SUBTRACT)
        with BuildLine():
            add(Edge.make_bspline(
                [(-1.5597183397, 2.8767350664), (-1.1694039529, 3.2992247871), (-0.326540974, 4.2115686732), (1.173480566, 6.1102493261), (2.0533721671, 7.9231650344), (2.5229705744, 8.8907186832)],
                knots=[0, 0, 0, 0, 0.2868219811, 0.6193766808, 1, 1, 1, 1], degree=3))
            add(Edge.make_bspline(
                [(-1.5597183397, 2.8767350664), (-1.8589931167, 2.962876281), (-2.5720831754, 3.1681272693), (-3.5405897267, 4.4253007306), (-3.8669793235, 7.9040693791), (-3.0672080274, 5.9833591694), (-3.0920986577, 9.1771883364), (-2.5405421679, 7.0725330254), (-2.0248253846, 10.3339664598), (-1.9139091803, 7.9777981626), (-0.8103468301, 11.3308623626), (-0.9475986641, 8.977191502), (0.1103408908, 11.6491635391), (0.1267478451, 9.713415447), (1.5207348904, 12.1585298775), (1.0949518969, 9.9739767825), (2.7396009203, 12.2096765336), (2.1700545147, 10.3636230555), (4.15331167, 12.645940549), (3.3862678933, 9.3386515386), (4.5351578604, 11.1865869124), (3.5528499763, 7.9880445346), (4.9297924286, 9.5806520616), (3.7033356656, 6.7646122467), (5.3734343924, 8.658277092), (3.6113681571, 5.8066420747), (5.4076383575, 6.9852303701), (3.4053881026, 4.9061766186), (5.2659769897, 5.4402523389), (3.1531798899, 4.0045278971), (5.1358200723, 4.1929676467), (2.6338754967, 2.7592275849), (4.3415119634, 2.8724024819), (2.0049842398, 1.2799578318), (0.034523457, 0.9509761217), (-0.6210284783, 1.9073277045), (-0.9229314723, 2.3477587224)],
                knots=[0, 0, 0, 0, 0.0273290263, 0.0651176059, 0.1083340193, 0.1286593311, 0.1646839988, 0.1854799616, 0.2214419606, 0.2430240575, 0.2801178287, 0.3023235463, 0.3352877021, 0.3563747541, 0.3893248995, 0.4123490057, 0.4447049011, 0.4655526661, 0.4972723316, 0.5320964381, 0.5528260436, 0.5896361655, 0.6102676528, 0.6440279128, 0.6672331042, 0.7029143226, 0.7240406766, 0.7576430162, 0.778712164, 0.809956957, 0.8317000793, 0.8666058191, 0.8859670288, 0.9253452622, 0.9656190644, 1, 1, 1, 1], degree=3))
            add(Edge.make_bspline(
                [(-0.9229314723, 2.3477587224), (-0.3927809563, 3.062087021), (0.6459890714, 4.4617326011), (1.7382888255, 6.6455933234), (2.2624825795, 8.1454124438), (2.5229705744, 8.8907186832)],
                knots=[0, 0, 0, 0, 0.3439892655, 0.6740080941, 1, 1, 1, 1], degree=3))
        make_face(mode=Mode.SUBTRACT)
        with Locations((6, 16)):
            Circle(F0_R, mode=Mode.SUBTRACT)
    extrude(amount=-F1_DEPTH)

    # F2
    f2_edges = [f1.edges().sort_by_distance(p)[0] for p in [
        (-10, 3, -20),
    ]]
    fillet(f2_edges, radius=F2_R)


solid = f1.part
